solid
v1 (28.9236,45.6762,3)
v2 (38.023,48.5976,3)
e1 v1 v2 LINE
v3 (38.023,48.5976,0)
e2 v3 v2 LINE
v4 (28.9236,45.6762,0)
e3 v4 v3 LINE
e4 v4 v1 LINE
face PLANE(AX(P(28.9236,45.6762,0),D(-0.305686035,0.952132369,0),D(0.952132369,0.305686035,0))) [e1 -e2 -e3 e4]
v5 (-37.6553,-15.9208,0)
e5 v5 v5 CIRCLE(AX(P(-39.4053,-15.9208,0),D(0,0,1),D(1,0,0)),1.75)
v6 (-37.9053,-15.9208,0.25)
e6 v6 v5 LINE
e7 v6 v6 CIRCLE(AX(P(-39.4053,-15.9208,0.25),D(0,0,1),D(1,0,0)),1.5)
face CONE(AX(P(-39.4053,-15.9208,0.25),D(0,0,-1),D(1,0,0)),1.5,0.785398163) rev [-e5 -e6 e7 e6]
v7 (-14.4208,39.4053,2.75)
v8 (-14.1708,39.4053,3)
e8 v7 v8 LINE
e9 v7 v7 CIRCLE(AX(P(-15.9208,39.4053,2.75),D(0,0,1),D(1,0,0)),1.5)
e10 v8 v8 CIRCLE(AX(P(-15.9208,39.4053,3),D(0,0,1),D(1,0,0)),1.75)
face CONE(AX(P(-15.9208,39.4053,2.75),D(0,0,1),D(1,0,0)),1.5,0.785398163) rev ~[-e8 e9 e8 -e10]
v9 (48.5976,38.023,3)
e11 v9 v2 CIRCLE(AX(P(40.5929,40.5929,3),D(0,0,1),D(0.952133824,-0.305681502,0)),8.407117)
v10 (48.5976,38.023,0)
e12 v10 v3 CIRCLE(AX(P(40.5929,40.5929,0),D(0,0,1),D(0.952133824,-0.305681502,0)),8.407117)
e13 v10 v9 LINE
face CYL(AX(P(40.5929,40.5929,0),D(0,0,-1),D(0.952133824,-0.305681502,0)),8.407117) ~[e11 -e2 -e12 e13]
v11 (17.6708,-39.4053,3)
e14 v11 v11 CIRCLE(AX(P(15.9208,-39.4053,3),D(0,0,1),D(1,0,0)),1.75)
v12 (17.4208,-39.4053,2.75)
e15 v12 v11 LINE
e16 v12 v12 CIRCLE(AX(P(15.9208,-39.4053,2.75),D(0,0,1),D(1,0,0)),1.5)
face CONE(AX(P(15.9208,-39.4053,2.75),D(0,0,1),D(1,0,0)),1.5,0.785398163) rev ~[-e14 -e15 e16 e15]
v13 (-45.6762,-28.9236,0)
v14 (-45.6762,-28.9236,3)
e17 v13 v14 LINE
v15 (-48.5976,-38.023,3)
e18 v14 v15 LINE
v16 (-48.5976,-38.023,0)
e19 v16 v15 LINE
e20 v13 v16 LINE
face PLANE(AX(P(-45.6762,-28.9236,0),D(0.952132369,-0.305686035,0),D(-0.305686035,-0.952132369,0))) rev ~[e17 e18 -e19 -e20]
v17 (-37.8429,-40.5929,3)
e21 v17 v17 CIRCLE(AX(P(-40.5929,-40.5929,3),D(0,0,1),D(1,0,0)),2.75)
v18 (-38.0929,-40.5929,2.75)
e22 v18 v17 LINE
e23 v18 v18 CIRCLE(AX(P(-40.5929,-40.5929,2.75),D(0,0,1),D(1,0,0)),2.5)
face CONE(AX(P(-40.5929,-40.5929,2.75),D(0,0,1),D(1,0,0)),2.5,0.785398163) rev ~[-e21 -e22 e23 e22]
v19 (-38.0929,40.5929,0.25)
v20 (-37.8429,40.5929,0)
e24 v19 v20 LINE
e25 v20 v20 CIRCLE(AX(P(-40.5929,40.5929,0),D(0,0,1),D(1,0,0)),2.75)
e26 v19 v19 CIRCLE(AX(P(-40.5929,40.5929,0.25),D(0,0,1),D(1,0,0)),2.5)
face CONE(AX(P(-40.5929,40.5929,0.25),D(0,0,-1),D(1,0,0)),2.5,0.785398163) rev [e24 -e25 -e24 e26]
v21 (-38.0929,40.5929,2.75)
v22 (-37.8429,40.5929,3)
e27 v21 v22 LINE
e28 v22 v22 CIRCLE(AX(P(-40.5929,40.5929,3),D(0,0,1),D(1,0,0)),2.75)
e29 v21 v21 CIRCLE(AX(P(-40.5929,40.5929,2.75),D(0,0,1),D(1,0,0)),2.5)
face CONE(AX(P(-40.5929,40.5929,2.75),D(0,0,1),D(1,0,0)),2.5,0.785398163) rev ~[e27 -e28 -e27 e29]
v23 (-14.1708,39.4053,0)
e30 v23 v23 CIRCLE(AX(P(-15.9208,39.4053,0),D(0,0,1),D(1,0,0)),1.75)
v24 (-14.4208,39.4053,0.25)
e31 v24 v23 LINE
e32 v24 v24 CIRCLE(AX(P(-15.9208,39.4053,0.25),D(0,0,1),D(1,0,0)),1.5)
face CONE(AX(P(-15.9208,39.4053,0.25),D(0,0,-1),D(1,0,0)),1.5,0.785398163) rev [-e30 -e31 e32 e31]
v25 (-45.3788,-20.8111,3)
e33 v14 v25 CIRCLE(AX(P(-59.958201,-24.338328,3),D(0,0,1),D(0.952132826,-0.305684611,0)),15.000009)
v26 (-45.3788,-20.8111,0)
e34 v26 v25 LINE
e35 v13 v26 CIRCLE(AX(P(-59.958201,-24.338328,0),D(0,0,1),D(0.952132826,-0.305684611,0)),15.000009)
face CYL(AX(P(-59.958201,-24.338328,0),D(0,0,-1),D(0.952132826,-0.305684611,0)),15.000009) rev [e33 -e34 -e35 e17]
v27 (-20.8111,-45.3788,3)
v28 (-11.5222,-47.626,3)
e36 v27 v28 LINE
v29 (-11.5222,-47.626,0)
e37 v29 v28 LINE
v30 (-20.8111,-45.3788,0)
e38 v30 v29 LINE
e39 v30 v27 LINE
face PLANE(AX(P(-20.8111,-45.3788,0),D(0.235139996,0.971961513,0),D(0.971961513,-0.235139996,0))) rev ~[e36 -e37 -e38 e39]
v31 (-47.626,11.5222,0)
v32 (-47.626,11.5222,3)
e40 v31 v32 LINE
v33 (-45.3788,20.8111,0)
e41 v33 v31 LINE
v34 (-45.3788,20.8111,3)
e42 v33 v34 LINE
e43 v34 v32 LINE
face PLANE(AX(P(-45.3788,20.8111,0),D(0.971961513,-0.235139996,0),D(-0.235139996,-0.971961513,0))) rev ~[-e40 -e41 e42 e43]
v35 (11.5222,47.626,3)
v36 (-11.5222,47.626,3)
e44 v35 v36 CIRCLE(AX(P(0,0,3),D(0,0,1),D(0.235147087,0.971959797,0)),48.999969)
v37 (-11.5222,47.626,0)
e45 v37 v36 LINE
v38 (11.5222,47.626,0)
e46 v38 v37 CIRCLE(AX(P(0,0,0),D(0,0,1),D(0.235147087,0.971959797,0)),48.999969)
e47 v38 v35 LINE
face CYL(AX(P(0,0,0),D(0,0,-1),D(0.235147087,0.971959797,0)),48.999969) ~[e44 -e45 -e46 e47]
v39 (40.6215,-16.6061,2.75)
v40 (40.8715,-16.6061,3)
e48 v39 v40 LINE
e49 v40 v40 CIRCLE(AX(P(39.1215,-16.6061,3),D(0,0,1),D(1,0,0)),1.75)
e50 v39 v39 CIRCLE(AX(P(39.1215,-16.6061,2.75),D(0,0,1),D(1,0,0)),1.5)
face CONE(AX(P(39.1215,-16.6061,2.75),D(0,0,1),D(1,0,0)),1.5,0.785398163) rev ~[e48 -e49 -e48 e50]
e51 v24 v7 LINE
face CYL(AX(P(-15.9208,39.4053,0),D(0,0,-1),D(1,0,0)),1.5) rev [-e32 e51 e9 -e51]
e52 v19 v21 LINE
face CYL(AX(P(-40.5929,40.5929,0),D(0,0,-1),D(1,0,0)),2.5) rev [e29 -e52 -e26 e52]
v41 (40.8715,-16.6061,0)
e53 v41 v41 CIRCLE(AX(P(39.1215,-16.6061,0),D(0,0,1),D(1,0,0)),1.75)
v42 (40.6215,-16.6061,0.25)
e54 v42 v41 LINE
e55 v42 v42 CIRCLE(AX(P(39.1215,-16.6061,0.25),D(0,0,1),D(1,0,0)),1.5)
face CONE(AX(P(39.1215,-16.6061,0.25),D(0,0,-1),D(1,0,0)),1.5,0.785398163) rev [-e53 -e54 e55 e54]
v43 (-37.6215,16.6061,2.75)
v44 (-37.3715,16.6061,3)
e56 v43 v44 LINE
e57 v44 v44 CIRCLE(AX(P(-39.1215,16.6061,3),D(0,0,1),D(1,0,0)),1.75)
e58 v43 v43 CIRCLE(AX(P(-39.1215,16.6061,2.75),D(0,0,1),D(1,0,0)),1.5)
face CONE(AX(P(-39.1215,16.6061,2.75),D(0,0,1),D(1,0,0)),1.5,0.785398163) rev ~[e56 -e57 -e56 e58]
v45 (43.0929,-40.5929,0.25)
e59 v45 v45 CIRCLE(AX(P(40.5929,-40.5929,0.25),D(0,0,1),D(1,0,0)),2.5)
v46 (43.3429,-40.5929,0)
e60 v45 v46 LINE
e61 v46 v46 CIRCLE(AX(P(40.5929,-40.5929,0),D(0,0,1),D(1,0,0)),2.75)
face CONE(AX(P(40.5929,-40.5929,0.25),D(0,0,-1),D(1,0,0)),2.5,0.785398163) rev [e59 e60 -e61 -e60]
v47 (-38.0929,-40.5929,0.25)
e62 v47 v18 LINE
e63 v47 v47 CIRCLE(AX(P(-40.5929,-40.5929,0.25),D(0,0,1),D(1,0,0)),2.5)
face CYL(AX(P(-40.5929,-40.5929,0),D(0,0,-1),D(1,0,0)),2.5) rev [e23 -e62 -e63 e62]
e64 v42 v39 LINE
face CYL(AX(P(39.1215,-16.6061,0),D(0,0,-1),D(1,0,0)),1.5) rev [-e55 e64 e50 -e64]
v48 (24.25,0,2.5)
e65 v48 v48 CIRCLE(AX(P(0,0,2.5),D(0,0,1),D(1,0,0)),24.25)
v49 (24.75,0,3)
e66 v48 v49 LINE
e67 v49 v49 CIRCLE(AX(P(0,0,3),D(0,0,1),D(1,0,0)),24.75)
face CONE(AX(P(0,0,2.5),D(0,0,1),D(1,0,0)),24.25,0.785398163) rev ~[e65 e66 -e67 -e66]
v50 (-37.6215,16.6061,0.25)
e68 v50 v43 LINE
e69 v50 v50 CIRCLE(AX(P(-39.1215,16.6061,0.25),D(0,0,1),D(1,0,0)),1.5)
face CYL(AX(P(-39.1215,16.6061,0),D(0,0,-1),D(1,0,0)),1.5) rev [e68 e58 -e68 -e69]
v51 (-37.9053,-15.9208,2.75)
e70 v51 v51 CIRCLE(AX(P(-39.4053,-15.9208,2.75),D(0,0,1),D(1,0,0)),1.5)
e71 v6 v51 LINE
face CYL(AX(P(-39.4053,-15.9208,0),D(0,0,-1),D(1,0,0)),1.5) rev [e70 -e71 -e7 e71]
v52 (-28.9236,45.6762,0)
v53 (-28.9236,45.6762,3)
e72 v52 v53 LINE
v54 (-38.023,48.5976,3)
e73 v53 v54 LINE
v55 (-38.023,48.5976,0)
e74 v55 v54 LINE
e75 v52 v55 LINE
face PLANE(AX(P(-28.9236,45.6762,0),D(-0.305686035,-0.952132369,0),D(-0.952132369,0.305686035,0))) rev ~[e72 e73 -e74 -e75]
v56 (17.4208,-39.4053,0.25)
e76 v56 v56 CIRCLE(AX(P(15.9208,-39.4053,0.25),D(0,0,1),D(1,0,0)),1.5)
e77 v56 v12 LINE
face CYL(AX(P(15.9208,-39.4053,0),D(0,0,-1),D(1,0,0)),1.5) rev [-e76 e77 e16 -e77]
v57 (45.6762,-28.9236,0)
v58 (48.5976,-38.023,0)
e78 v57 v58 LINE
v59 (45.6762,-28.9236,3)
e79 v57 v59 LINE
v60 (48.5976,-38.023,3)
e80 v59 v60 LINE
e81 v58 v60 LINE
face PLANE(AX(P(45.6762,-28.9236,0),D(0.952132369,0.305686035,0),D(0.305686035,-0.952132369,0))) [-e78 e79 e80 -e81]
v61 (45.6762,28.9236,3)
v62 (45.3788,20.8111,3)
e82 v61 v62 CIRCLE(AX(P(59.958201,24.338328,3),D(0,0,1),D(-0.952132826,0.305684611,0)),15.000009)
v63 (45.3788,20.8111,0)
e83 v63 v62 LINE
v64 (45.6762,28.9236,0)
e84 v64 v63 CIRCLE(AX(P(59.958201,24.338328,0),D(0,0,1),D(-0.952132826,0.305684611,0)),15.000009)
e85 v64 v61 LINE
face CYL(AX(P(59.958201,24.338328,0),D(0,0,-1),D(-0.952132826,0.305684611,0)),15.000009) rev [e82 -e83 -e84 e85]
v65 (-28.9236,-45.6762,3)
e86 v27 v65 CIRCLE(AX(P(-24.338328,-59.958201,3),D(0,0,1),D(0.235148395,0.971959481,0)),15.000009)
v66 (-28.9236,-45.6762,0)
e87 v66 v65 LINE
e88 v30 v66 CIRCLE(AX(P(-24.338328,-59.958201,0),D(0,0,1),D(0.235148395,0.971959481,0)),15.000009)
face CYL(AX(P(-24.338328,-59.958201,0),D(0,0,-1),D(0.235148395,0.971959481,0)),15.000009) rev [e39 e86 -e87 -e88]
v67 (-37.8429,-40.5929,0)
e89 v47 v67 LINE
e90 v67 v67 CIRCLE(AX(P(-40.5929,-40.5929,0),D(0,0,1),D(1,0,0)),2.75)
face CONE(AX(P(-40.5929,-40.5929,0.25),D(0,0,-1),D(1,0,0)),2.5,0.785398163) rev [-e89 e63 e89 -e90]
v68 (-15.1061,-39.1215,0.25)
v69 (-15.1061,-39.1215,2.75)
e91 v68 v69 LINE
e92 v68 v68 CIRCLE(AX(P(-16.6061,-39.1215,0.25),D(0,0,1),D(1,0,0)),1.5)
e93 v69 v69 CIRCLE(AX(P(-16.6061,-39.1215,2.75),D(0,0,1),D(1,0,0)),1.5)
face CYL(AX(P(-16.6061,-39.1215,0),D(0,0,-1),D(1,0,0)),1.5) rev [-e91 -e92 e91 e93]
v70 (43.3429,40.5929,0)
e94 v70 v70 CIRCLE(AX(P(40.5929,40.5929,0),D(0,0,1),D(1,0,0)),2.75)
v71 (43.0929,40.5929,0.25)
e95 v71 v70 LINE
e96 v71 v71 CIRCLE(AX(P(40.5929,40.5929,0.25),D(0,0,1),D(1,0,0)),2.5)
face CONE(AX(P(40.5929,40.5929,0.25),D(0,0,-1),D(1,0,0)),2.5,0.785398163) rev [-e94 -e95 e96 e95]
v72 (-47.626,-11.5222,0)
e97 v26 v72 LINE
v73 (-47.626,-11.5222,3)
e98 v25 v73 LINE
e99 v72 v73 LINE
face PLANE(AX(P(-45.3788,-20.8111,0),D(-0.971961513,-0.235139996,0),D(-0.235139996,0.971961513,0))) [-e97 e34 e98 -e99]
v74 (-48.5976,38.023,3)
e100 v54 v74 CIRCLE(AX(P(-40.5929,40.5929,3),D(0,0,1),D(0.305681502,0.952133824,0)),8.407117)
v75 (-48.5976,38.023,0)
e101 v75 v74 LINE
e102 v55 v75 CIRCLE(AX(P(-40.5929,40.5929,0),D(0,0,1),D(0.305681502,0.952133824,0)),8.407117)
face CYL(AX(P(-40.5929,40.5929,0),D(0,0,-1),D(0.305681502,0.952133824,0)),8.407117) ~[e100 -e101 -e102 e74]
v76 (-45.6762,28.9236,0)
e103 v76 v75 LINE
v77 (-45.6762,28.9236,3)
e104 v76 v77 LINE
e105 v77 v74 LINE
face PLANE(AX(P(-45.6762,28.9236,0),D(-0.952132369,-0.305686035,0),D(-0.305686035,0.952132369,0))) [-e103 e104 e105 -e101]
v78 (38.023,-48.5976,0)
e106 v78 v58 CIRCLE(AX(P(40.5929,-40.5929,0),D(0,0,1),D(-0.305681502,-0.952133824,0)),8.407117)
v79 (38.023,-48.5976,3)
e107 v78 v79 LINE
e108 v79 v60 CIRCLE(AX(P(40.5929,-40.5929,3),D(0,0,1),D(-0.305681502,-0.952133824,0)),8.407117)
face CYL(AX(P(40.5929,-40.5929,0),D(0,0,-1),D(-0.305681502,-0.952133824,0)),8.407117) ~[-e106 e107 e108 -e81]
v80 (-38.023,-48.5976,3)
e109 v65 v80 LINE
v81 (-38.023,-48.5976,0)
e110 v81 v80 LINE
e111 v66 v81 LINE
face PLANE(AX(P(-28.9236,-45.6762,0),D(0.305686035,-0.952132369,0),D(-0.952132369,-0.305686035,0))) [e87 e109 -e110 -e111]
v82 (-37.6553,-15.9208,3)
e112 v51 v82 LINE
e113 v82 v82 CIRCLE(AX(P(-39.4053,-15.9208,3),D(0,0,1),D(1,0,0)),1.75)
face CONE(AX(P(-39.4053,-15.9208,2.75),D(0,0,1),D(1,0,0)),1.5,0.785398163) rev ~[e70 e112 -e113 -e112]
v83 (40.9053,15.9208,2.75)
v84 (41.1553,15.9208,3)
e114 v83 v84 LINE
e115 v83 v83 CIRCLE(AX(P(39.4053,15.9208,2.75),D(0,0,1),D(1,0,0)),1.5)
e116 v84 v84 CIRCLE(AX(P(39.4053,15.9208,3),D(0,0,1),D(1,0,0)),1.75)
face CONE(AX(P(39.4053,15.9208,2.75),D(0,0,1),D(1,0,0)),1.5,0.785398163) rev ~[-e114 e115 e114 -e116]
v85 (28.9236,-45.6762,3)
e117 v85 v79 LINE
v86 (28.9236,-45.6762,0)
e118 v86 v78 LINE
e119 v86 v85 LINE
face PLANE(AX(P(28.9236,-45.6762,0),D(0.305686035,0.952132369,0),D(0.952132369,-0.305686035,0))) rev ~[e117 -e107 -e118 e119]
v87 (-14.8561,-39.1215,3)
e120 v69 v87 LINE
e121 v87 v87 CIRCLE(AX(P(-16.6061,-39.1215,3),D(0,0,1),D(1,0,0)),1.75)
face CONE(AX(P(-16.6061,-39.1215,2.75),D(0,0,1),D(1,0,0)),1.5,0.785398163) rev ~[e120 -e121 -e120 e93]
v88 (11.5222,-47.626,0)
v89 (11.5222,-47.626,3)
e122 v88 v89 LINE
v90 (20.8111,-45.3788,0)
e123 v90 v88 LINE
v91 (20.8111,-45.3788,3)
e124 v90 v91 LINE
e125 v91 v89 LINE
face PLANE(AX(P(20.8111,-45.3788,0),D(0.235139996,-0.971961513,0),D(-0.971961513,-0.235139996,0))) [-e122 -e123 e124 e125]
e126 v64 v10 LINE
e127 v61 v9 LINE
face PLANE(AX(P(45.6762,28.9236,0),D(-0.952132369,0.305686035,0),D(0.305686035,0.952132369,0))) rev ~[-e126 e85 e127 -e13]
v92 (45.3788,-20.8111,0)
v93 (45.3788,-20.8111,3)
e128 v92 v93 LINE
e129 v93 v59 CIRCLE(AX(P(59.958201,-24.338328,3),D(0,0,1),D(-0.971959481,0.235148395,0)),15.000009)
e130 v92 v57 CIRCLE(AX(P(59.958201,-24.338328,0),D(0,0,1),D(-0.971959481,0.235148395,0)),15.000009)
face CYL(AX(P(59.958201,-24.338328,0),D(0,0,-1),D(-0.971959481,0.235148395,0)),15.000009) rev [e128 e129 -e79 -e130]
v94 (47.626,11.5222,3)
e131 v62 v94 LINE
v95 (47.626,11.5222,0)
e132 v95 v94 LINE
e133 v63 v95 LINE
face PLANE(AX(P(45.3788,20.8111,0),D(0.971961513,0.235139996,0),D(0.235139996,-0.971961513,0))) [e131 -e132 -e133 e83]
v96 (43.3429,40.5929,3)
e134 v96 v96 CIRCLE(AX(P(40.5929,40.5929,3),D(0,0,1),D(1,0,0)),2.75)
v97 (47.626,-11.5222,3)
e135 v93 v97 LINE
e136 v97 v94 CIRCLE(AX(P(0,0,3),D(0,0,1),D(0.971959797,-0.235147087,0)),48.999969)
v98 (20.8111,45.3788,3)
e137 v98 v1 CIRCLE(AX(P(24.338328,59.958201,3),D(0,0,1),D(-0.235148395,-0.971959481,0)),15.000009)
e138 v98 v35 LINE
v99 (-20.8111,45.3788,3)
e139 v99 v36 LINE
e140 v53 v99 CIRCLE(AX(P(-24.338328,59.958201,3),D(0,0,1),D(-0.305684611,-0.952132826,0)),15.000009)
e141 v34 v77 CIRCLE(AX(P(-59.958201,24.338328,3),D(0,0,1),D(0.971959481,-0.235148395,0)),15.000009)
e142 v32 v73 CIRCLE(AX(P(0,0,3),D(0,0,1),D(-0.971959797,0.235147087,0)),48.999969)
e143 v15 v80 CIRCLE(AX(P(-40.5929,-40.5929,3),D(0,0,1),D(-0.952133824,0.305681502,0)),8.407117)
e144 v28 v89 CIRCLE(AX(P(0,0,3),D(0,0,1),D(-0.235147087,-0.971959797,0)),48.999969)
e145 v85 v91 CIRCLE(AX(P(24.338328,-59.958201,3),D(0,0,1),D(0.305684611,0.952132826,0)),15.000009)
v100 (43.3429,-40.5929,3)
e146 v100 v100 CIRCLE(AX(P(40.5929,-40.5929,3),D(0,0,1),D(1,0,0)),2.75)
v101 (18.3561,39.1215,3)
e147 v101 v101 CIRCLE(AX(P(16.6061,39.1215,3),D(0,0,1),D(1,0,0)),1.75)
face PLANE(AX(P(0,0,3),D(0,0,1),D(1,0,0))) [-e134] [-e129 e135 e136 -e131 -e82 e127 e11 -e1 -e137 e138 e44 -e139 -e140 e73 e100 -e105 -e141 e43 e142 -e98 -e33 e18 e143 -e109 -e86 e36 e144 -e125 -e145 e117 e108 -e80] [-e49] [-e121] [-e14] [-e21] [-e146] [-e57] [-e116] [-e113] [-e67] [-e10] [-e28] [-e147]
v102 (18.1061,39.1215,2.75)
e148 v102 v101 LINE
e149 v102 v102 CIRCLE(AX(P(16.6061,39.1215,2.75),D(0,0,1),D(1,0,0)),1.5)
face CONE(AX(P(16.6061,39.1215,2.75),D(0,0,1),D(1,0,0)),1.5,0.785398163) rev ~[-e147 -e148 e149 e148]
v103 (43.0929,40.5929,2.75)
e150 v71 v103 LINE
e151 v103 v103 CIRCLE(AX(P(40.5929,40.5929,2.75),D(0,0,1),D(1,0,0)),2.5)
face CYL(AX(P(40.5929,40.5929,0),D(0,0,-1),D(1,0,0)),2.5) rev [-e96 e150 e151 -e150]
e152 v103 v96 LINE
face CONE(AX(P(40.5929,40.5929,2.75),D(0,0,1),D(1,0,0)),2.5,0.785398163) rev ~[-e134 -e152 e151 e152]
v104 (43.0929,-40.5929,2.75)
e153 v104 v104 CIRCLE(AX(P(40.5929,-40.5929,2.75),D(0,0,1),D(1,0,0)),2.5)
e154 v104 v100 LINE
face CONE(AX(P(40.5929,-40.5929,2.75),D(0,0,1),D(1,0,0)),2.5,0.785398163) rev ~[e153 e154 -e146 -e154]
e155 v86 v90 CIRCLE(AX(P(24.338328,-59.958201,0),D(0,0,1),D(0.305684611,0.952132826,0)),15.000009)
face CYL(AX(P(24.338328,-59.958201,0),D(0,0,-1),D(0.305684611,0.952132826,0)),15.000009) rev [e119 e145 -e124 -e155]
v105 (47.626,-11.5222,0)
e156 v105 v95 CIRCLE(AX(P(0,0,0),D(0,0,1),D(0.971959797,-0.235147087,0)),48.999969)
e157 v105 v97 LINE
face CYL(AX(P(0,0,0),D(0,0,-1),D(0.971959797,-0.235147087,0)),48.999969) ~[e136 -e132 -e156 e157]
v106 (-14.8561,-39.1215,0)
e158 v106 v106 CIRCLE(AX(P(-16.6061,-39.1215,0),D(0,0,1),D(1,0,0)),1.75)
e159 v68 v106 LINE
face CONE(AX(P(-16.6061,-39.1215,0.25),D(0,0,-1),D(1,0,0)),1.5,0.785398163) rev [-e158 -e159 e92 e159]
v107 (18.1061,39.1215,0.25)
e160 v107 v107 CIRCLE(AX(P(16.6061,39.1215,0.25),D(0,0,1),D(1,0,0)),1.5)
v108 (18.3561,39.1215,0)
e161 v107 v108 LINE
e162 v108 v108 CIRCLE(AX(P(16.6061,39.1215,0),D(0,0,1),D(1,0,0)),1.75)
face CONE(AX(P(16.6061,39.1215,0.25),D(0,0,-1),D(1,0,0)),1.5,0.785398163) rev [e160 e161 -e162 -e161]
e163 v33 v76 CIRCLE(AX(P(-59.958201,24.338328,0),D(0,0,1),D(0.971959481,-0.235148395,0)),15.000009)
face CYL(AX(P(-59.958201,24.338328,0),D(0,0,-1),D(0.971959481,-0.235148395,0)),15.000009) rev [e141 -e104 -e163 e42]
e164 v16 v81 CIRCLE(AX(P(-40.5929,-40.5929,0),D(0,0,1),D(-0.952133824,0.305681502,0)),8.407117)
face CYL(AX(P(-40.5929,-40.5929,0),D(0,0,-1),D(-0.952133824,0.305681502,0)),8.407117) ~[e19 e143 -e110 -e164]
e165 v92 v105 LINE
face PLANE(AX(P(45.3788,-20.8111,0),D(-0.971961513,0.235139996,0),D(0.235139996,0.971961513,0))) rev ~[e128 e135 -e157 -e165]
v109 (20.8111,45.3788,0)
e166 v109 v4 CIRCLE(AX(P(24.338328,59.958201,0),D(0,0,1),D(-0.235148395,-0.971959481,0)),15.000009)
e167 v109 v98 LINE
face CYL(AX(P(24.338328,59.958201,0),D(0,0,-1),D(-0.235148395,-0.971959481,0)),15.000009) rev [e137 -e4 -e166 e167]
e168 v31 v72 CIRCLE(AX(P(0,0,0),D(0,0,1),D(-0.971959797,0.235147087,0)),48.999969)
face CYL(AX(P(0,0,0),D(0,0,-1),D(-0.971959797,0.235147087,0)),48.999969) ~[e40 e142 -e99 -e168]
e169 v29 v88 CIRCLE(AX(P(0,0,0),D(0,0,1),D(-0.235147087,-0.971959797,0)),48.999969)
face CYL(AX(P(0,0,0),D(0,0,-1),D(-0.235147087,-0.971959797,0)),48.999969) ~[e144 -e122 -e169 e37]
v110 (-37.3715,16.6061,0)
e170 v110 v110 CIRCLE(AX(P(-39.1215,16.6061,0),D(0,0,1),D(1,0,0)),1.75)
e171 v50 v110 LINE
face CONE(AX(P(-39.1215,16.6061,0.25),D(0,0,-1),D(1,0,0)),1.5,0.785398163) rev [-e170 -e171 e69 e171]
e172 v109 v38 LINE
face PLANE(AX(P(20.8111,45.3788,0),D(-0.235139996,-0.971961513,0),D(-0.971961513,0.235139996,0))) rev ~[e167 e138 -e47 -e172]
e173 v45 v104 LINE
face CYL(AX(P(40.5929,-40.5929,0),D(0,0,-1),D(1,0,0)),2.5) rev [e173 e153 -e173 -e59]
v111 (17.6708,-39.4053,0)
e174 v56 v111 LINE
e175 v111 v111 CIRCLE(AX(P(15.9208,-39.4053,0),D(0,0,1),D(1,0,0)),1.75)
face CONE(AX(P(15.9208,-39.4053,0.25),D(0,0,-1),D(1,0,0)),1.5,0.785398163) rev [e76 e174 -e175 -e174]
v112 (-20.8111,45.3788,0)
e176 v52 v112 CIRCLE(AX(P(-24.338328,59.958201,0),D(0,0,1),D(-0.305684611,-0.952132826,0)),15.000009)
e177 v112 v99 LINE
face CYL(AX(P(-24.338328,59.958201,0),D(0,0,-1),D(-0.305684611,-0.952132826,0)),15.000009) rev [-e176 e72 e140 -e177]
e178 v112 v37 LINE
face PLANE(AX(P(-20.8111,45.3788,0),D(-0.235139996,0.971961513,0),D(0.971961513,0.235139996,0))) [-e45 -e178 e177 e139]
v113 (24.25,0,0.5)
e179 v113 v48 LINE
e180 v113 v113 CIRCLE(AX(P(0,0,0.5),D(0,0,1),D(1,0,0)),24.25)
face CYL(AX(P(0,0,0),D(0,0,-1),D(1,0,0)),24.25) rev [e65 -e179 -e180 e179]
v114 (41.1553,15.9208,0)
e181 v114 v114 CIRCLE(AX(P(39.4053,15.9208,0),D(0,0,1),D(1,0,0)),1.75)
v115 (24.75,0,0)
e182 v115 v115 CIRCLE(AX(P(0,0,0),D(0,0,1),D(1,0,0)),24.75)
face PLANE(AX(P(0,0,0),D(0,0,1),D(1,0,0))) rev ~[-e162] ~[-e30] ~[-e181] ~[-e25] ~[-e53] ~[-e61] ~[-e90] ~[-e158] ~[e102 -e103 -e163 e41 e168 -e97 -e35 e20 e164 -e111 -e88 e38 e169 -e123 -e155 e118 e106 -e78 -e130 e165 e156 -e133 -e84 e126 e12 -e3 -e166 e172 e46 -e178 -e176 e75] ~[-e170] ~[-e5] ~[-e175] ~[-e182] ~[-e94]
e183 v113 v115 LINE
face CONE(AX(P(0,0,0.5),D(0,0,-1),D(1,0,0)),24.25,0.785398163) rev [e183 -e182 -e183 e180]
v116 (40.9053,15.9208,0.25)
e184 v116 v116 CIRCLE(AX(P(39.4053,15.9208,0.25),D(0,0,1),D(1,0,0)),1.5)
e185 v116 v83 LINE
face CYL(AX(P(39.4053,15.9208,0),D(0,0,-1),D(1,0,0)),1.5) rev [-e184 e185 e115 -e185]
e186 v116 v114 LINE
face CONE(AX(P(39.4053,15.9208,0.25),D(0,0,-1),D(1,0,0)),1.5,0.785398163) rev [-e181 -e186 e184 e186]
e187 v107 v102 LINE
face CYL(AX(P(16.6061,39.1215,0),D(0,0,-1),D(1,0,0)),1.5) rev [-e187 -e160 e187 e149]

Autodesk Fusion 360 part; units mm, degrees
sketch "Sketch1" plane through (0, 0, 0) normal (0, 0, 1) x (1, 0, 0)
  line L0 (49, 49) -> (-49, 49) construction
  line L1 (-49, 49) -> (-49, -49) construction
  line L2 (-49, -49) -> (49, -49) construction
  line L3 (49, -49) -> (49, 49) construction
  line L4 (49, 49) -> (-49, -49) construction
  line L5 (-49, 49) -> (49, -49) construction
  line L6 (-34.6482, 34.6482) -> (-33.8425, 35.454)
  line L7 (-34.6482, 34.6482) -> (-20.2965, 49) construction
  line L8 (-34.6482, 34.6482) -> (-49, 20.2965) construction
  line L9 (-34.6482, -34.6482) -> (-49, -20.2965) construction
  line L10 (-34.6482, -34.6482) -> (-20.2965, -49) construction
  line L11 (34.6482, -34.6482) -> (20.2965, -49) construction
  line L12 (34.6482, -34.6482) -> (49, -20.2965) construction
  line L13 (34.6482, 34.6482) -> (49, 20.2965) construction
  line L14 (34.6482, 34.6482) -> (20.2965, 49) construction
  line L15 (-20.8111, 45.3788) -> (-11.5222, 47.626)
  line L16 (-28.9236, 45.6762) -> (-38.023, 48.5976)
  arc A0 (-28.9236, 45.6762) -> (-20.8111, 45.3788) centre (-24.3383, 59.9582) ccw
  arc A1 (-45.3788, 20.8111) -> (-45.6762, 28.9236) centre (-59.9582, 24.3383) ccw
  line L17 (-45.6762, 28.9236) -> (-48.5976, 38.023)
  line L18 (-45.3788, 20.8111) -> (-47.626, 11.5222)
  line L19 (-45.6762, -28.9236) -> (-48.5976, -38.023)
  line L20 (-28.9236, -45.6762) -> (-38.023, -48.5976)
  arc A2 (-20.8111, -45.3788) -> (-28.9236, -45.6762) centre (-24.3383, -59.9582) ccw
  line L21 (-20.8111, -45.3788) -> (-11.5222, -47.626)
  arc A3 (-45.6762, -28.9236) -> (-45.3788, -20.8111) centre (-59.9582, -24.3383) ccw
  line L22 (-45.3788, -20.8111) -> (-47.626, -11.5222)
  line L23 (28.9236, -45.6762) -> (38.023, -48.5976)
  line L24 (45.6762, -28.9236) -> (48.5976, -38.023)
  arc A4 (45.3788, -20.8111) -> (45.6762, -28.9236) centre (59.9582, -24.3383) ccw
  line L25 (45.3788, -20.8111) -> (47.626, -11.5222)
  arc A5 (28.9236, -45.6762) -> (20.8111, -45.3788) centre (24.3383, -59.9582) ccw
  line L26 (20.8111, -45.3788) -> (11.5222, -47.626)
  line L27 (45.6762, 28.9236) -> (48.5976, 38.023)
  line L28 (28.9236, 45.6762) -> (38.023, 48.5976)
  arc A6 (20.8111, 45.3788) -> (28.9236, 45.6762) centre (24.3383, 59.9582) ccw
  line L29 (20.8111, 45.3788) -> (11.5222, 47.626)
  arc A7 (45.6762, 28.9236) -> (45.3788, 20.8111) centre (59.9582, 24.3383) ccw
  line L30 (45.3788, 20.8111) -> (47.626, 11.5222)
  arc A8 (-38.023, 48.5976) -> (-48.5976, 38.023) centre (-40.5929, 40.5929) ccw
  arc A9 (-48.5976, -38.023) -> (-38.023, -48.5976) centre (-40.5929, -40.5929) ccw
  arc A10 (38.023, -48.5976) -> (48.5976, -38.023) centre (40.5929, -40.5929) ccw
  arc A11 (48.5976, 38.023) -> (38.023, 48.5976) centre (40.5929, 40.5929) ccw
  arc A12 (11.5222, 47.626) -> (-11.5222, 47.626) centre (0, 0) ccw
  arc A13 (47.626, -11.5222) -> (47.626, 11.5222) centre (0, 0) ccw
  arc A14 (-47.626, 11.5222) -> (-47.626, -11.5222) centre (0, 0) ccw
  arc A15 (-11.5222, -47.626) -> (11.5222, -47.626) centre (0, 0) ccw
  circle A16 centre (-40.5929, 40.5929) radius 2.5
  circle A17 centre (-40.5929, -40.5929) radius 2.5
  circle A18 centre (40.5929, -40.5929) radius 2.5
  circle A19 centre (40.5929, 40.5929) radius 2.5
  circle A20 centre (0, 0) radius 42.5 construction
  line L31 (0, 0) -> (16.6061, 39.1215) construction
  line L32 (0, 0) -> (42.5, 0) construction
  circle A21 centre (16.6061, 39.1215) radius 1.5
  circle A22 centre (-15.9208, 39.4053) radius 1.5
  circle A23 centre (-39.1215, 16.6061) radius 1.5
  circle A24 centre (-39.4053, -15.9208) radius 1.5
  circle A25 centre (-16.6061, -39.1215) radius 1.5
  circle A26 centre (15.9208, -39.4053) radius 1.5
  circle A27 centre (39.1215, -16.6061) radius 1.5
  circle A28 centre (39.4053, 15.9208) radius 1.5
  circle A29 centre (0, 0) radius 24.25
  dimension "d1" = 98
  dimension "d2" = 98
  dimension "d3" = 98
  dimension "d5" = 360
  dimension "d8" = 15
  dimension "d12" = 360
  dimension "d13" = 5
  dimension "d15" = 360
  dimension "d18" = 85
  dimension "d19" = 67
  dimension "d20" = 3
  dimension "d22" = 360
  dimension "d23" = 48.5
extrude "Extrude1" add sketch "Sketch1" along normal blind 3
chamfer "Chamfer1" distance 0.5 angle 45 1 faces at (24.2199, -1.2088, 2)
chamfer "Chamfer1" distance 0.25 angle 45 12 faces at (-38.096, 40.4683, 2) (-38.7152, 15.1621, 1) (-37.9072, -15.9955, 2) (-17.2381, 38.6879, 2) (17.886, 39.9036, 2) (39.8116, 14.4768, 1) (43.0898, 40.4683, 2) (43.0898, -40.7175, 2) (38.4371, -17.9409, 2) (17.2007, -38.6232, 2) (-17.9234, -39.8388, 2) (-38.096, -40.7175, 2)
equation "d3 = 120 mm - 2 mm - 20 mm"
equation "d19 = 90 deg - 23 deg"
